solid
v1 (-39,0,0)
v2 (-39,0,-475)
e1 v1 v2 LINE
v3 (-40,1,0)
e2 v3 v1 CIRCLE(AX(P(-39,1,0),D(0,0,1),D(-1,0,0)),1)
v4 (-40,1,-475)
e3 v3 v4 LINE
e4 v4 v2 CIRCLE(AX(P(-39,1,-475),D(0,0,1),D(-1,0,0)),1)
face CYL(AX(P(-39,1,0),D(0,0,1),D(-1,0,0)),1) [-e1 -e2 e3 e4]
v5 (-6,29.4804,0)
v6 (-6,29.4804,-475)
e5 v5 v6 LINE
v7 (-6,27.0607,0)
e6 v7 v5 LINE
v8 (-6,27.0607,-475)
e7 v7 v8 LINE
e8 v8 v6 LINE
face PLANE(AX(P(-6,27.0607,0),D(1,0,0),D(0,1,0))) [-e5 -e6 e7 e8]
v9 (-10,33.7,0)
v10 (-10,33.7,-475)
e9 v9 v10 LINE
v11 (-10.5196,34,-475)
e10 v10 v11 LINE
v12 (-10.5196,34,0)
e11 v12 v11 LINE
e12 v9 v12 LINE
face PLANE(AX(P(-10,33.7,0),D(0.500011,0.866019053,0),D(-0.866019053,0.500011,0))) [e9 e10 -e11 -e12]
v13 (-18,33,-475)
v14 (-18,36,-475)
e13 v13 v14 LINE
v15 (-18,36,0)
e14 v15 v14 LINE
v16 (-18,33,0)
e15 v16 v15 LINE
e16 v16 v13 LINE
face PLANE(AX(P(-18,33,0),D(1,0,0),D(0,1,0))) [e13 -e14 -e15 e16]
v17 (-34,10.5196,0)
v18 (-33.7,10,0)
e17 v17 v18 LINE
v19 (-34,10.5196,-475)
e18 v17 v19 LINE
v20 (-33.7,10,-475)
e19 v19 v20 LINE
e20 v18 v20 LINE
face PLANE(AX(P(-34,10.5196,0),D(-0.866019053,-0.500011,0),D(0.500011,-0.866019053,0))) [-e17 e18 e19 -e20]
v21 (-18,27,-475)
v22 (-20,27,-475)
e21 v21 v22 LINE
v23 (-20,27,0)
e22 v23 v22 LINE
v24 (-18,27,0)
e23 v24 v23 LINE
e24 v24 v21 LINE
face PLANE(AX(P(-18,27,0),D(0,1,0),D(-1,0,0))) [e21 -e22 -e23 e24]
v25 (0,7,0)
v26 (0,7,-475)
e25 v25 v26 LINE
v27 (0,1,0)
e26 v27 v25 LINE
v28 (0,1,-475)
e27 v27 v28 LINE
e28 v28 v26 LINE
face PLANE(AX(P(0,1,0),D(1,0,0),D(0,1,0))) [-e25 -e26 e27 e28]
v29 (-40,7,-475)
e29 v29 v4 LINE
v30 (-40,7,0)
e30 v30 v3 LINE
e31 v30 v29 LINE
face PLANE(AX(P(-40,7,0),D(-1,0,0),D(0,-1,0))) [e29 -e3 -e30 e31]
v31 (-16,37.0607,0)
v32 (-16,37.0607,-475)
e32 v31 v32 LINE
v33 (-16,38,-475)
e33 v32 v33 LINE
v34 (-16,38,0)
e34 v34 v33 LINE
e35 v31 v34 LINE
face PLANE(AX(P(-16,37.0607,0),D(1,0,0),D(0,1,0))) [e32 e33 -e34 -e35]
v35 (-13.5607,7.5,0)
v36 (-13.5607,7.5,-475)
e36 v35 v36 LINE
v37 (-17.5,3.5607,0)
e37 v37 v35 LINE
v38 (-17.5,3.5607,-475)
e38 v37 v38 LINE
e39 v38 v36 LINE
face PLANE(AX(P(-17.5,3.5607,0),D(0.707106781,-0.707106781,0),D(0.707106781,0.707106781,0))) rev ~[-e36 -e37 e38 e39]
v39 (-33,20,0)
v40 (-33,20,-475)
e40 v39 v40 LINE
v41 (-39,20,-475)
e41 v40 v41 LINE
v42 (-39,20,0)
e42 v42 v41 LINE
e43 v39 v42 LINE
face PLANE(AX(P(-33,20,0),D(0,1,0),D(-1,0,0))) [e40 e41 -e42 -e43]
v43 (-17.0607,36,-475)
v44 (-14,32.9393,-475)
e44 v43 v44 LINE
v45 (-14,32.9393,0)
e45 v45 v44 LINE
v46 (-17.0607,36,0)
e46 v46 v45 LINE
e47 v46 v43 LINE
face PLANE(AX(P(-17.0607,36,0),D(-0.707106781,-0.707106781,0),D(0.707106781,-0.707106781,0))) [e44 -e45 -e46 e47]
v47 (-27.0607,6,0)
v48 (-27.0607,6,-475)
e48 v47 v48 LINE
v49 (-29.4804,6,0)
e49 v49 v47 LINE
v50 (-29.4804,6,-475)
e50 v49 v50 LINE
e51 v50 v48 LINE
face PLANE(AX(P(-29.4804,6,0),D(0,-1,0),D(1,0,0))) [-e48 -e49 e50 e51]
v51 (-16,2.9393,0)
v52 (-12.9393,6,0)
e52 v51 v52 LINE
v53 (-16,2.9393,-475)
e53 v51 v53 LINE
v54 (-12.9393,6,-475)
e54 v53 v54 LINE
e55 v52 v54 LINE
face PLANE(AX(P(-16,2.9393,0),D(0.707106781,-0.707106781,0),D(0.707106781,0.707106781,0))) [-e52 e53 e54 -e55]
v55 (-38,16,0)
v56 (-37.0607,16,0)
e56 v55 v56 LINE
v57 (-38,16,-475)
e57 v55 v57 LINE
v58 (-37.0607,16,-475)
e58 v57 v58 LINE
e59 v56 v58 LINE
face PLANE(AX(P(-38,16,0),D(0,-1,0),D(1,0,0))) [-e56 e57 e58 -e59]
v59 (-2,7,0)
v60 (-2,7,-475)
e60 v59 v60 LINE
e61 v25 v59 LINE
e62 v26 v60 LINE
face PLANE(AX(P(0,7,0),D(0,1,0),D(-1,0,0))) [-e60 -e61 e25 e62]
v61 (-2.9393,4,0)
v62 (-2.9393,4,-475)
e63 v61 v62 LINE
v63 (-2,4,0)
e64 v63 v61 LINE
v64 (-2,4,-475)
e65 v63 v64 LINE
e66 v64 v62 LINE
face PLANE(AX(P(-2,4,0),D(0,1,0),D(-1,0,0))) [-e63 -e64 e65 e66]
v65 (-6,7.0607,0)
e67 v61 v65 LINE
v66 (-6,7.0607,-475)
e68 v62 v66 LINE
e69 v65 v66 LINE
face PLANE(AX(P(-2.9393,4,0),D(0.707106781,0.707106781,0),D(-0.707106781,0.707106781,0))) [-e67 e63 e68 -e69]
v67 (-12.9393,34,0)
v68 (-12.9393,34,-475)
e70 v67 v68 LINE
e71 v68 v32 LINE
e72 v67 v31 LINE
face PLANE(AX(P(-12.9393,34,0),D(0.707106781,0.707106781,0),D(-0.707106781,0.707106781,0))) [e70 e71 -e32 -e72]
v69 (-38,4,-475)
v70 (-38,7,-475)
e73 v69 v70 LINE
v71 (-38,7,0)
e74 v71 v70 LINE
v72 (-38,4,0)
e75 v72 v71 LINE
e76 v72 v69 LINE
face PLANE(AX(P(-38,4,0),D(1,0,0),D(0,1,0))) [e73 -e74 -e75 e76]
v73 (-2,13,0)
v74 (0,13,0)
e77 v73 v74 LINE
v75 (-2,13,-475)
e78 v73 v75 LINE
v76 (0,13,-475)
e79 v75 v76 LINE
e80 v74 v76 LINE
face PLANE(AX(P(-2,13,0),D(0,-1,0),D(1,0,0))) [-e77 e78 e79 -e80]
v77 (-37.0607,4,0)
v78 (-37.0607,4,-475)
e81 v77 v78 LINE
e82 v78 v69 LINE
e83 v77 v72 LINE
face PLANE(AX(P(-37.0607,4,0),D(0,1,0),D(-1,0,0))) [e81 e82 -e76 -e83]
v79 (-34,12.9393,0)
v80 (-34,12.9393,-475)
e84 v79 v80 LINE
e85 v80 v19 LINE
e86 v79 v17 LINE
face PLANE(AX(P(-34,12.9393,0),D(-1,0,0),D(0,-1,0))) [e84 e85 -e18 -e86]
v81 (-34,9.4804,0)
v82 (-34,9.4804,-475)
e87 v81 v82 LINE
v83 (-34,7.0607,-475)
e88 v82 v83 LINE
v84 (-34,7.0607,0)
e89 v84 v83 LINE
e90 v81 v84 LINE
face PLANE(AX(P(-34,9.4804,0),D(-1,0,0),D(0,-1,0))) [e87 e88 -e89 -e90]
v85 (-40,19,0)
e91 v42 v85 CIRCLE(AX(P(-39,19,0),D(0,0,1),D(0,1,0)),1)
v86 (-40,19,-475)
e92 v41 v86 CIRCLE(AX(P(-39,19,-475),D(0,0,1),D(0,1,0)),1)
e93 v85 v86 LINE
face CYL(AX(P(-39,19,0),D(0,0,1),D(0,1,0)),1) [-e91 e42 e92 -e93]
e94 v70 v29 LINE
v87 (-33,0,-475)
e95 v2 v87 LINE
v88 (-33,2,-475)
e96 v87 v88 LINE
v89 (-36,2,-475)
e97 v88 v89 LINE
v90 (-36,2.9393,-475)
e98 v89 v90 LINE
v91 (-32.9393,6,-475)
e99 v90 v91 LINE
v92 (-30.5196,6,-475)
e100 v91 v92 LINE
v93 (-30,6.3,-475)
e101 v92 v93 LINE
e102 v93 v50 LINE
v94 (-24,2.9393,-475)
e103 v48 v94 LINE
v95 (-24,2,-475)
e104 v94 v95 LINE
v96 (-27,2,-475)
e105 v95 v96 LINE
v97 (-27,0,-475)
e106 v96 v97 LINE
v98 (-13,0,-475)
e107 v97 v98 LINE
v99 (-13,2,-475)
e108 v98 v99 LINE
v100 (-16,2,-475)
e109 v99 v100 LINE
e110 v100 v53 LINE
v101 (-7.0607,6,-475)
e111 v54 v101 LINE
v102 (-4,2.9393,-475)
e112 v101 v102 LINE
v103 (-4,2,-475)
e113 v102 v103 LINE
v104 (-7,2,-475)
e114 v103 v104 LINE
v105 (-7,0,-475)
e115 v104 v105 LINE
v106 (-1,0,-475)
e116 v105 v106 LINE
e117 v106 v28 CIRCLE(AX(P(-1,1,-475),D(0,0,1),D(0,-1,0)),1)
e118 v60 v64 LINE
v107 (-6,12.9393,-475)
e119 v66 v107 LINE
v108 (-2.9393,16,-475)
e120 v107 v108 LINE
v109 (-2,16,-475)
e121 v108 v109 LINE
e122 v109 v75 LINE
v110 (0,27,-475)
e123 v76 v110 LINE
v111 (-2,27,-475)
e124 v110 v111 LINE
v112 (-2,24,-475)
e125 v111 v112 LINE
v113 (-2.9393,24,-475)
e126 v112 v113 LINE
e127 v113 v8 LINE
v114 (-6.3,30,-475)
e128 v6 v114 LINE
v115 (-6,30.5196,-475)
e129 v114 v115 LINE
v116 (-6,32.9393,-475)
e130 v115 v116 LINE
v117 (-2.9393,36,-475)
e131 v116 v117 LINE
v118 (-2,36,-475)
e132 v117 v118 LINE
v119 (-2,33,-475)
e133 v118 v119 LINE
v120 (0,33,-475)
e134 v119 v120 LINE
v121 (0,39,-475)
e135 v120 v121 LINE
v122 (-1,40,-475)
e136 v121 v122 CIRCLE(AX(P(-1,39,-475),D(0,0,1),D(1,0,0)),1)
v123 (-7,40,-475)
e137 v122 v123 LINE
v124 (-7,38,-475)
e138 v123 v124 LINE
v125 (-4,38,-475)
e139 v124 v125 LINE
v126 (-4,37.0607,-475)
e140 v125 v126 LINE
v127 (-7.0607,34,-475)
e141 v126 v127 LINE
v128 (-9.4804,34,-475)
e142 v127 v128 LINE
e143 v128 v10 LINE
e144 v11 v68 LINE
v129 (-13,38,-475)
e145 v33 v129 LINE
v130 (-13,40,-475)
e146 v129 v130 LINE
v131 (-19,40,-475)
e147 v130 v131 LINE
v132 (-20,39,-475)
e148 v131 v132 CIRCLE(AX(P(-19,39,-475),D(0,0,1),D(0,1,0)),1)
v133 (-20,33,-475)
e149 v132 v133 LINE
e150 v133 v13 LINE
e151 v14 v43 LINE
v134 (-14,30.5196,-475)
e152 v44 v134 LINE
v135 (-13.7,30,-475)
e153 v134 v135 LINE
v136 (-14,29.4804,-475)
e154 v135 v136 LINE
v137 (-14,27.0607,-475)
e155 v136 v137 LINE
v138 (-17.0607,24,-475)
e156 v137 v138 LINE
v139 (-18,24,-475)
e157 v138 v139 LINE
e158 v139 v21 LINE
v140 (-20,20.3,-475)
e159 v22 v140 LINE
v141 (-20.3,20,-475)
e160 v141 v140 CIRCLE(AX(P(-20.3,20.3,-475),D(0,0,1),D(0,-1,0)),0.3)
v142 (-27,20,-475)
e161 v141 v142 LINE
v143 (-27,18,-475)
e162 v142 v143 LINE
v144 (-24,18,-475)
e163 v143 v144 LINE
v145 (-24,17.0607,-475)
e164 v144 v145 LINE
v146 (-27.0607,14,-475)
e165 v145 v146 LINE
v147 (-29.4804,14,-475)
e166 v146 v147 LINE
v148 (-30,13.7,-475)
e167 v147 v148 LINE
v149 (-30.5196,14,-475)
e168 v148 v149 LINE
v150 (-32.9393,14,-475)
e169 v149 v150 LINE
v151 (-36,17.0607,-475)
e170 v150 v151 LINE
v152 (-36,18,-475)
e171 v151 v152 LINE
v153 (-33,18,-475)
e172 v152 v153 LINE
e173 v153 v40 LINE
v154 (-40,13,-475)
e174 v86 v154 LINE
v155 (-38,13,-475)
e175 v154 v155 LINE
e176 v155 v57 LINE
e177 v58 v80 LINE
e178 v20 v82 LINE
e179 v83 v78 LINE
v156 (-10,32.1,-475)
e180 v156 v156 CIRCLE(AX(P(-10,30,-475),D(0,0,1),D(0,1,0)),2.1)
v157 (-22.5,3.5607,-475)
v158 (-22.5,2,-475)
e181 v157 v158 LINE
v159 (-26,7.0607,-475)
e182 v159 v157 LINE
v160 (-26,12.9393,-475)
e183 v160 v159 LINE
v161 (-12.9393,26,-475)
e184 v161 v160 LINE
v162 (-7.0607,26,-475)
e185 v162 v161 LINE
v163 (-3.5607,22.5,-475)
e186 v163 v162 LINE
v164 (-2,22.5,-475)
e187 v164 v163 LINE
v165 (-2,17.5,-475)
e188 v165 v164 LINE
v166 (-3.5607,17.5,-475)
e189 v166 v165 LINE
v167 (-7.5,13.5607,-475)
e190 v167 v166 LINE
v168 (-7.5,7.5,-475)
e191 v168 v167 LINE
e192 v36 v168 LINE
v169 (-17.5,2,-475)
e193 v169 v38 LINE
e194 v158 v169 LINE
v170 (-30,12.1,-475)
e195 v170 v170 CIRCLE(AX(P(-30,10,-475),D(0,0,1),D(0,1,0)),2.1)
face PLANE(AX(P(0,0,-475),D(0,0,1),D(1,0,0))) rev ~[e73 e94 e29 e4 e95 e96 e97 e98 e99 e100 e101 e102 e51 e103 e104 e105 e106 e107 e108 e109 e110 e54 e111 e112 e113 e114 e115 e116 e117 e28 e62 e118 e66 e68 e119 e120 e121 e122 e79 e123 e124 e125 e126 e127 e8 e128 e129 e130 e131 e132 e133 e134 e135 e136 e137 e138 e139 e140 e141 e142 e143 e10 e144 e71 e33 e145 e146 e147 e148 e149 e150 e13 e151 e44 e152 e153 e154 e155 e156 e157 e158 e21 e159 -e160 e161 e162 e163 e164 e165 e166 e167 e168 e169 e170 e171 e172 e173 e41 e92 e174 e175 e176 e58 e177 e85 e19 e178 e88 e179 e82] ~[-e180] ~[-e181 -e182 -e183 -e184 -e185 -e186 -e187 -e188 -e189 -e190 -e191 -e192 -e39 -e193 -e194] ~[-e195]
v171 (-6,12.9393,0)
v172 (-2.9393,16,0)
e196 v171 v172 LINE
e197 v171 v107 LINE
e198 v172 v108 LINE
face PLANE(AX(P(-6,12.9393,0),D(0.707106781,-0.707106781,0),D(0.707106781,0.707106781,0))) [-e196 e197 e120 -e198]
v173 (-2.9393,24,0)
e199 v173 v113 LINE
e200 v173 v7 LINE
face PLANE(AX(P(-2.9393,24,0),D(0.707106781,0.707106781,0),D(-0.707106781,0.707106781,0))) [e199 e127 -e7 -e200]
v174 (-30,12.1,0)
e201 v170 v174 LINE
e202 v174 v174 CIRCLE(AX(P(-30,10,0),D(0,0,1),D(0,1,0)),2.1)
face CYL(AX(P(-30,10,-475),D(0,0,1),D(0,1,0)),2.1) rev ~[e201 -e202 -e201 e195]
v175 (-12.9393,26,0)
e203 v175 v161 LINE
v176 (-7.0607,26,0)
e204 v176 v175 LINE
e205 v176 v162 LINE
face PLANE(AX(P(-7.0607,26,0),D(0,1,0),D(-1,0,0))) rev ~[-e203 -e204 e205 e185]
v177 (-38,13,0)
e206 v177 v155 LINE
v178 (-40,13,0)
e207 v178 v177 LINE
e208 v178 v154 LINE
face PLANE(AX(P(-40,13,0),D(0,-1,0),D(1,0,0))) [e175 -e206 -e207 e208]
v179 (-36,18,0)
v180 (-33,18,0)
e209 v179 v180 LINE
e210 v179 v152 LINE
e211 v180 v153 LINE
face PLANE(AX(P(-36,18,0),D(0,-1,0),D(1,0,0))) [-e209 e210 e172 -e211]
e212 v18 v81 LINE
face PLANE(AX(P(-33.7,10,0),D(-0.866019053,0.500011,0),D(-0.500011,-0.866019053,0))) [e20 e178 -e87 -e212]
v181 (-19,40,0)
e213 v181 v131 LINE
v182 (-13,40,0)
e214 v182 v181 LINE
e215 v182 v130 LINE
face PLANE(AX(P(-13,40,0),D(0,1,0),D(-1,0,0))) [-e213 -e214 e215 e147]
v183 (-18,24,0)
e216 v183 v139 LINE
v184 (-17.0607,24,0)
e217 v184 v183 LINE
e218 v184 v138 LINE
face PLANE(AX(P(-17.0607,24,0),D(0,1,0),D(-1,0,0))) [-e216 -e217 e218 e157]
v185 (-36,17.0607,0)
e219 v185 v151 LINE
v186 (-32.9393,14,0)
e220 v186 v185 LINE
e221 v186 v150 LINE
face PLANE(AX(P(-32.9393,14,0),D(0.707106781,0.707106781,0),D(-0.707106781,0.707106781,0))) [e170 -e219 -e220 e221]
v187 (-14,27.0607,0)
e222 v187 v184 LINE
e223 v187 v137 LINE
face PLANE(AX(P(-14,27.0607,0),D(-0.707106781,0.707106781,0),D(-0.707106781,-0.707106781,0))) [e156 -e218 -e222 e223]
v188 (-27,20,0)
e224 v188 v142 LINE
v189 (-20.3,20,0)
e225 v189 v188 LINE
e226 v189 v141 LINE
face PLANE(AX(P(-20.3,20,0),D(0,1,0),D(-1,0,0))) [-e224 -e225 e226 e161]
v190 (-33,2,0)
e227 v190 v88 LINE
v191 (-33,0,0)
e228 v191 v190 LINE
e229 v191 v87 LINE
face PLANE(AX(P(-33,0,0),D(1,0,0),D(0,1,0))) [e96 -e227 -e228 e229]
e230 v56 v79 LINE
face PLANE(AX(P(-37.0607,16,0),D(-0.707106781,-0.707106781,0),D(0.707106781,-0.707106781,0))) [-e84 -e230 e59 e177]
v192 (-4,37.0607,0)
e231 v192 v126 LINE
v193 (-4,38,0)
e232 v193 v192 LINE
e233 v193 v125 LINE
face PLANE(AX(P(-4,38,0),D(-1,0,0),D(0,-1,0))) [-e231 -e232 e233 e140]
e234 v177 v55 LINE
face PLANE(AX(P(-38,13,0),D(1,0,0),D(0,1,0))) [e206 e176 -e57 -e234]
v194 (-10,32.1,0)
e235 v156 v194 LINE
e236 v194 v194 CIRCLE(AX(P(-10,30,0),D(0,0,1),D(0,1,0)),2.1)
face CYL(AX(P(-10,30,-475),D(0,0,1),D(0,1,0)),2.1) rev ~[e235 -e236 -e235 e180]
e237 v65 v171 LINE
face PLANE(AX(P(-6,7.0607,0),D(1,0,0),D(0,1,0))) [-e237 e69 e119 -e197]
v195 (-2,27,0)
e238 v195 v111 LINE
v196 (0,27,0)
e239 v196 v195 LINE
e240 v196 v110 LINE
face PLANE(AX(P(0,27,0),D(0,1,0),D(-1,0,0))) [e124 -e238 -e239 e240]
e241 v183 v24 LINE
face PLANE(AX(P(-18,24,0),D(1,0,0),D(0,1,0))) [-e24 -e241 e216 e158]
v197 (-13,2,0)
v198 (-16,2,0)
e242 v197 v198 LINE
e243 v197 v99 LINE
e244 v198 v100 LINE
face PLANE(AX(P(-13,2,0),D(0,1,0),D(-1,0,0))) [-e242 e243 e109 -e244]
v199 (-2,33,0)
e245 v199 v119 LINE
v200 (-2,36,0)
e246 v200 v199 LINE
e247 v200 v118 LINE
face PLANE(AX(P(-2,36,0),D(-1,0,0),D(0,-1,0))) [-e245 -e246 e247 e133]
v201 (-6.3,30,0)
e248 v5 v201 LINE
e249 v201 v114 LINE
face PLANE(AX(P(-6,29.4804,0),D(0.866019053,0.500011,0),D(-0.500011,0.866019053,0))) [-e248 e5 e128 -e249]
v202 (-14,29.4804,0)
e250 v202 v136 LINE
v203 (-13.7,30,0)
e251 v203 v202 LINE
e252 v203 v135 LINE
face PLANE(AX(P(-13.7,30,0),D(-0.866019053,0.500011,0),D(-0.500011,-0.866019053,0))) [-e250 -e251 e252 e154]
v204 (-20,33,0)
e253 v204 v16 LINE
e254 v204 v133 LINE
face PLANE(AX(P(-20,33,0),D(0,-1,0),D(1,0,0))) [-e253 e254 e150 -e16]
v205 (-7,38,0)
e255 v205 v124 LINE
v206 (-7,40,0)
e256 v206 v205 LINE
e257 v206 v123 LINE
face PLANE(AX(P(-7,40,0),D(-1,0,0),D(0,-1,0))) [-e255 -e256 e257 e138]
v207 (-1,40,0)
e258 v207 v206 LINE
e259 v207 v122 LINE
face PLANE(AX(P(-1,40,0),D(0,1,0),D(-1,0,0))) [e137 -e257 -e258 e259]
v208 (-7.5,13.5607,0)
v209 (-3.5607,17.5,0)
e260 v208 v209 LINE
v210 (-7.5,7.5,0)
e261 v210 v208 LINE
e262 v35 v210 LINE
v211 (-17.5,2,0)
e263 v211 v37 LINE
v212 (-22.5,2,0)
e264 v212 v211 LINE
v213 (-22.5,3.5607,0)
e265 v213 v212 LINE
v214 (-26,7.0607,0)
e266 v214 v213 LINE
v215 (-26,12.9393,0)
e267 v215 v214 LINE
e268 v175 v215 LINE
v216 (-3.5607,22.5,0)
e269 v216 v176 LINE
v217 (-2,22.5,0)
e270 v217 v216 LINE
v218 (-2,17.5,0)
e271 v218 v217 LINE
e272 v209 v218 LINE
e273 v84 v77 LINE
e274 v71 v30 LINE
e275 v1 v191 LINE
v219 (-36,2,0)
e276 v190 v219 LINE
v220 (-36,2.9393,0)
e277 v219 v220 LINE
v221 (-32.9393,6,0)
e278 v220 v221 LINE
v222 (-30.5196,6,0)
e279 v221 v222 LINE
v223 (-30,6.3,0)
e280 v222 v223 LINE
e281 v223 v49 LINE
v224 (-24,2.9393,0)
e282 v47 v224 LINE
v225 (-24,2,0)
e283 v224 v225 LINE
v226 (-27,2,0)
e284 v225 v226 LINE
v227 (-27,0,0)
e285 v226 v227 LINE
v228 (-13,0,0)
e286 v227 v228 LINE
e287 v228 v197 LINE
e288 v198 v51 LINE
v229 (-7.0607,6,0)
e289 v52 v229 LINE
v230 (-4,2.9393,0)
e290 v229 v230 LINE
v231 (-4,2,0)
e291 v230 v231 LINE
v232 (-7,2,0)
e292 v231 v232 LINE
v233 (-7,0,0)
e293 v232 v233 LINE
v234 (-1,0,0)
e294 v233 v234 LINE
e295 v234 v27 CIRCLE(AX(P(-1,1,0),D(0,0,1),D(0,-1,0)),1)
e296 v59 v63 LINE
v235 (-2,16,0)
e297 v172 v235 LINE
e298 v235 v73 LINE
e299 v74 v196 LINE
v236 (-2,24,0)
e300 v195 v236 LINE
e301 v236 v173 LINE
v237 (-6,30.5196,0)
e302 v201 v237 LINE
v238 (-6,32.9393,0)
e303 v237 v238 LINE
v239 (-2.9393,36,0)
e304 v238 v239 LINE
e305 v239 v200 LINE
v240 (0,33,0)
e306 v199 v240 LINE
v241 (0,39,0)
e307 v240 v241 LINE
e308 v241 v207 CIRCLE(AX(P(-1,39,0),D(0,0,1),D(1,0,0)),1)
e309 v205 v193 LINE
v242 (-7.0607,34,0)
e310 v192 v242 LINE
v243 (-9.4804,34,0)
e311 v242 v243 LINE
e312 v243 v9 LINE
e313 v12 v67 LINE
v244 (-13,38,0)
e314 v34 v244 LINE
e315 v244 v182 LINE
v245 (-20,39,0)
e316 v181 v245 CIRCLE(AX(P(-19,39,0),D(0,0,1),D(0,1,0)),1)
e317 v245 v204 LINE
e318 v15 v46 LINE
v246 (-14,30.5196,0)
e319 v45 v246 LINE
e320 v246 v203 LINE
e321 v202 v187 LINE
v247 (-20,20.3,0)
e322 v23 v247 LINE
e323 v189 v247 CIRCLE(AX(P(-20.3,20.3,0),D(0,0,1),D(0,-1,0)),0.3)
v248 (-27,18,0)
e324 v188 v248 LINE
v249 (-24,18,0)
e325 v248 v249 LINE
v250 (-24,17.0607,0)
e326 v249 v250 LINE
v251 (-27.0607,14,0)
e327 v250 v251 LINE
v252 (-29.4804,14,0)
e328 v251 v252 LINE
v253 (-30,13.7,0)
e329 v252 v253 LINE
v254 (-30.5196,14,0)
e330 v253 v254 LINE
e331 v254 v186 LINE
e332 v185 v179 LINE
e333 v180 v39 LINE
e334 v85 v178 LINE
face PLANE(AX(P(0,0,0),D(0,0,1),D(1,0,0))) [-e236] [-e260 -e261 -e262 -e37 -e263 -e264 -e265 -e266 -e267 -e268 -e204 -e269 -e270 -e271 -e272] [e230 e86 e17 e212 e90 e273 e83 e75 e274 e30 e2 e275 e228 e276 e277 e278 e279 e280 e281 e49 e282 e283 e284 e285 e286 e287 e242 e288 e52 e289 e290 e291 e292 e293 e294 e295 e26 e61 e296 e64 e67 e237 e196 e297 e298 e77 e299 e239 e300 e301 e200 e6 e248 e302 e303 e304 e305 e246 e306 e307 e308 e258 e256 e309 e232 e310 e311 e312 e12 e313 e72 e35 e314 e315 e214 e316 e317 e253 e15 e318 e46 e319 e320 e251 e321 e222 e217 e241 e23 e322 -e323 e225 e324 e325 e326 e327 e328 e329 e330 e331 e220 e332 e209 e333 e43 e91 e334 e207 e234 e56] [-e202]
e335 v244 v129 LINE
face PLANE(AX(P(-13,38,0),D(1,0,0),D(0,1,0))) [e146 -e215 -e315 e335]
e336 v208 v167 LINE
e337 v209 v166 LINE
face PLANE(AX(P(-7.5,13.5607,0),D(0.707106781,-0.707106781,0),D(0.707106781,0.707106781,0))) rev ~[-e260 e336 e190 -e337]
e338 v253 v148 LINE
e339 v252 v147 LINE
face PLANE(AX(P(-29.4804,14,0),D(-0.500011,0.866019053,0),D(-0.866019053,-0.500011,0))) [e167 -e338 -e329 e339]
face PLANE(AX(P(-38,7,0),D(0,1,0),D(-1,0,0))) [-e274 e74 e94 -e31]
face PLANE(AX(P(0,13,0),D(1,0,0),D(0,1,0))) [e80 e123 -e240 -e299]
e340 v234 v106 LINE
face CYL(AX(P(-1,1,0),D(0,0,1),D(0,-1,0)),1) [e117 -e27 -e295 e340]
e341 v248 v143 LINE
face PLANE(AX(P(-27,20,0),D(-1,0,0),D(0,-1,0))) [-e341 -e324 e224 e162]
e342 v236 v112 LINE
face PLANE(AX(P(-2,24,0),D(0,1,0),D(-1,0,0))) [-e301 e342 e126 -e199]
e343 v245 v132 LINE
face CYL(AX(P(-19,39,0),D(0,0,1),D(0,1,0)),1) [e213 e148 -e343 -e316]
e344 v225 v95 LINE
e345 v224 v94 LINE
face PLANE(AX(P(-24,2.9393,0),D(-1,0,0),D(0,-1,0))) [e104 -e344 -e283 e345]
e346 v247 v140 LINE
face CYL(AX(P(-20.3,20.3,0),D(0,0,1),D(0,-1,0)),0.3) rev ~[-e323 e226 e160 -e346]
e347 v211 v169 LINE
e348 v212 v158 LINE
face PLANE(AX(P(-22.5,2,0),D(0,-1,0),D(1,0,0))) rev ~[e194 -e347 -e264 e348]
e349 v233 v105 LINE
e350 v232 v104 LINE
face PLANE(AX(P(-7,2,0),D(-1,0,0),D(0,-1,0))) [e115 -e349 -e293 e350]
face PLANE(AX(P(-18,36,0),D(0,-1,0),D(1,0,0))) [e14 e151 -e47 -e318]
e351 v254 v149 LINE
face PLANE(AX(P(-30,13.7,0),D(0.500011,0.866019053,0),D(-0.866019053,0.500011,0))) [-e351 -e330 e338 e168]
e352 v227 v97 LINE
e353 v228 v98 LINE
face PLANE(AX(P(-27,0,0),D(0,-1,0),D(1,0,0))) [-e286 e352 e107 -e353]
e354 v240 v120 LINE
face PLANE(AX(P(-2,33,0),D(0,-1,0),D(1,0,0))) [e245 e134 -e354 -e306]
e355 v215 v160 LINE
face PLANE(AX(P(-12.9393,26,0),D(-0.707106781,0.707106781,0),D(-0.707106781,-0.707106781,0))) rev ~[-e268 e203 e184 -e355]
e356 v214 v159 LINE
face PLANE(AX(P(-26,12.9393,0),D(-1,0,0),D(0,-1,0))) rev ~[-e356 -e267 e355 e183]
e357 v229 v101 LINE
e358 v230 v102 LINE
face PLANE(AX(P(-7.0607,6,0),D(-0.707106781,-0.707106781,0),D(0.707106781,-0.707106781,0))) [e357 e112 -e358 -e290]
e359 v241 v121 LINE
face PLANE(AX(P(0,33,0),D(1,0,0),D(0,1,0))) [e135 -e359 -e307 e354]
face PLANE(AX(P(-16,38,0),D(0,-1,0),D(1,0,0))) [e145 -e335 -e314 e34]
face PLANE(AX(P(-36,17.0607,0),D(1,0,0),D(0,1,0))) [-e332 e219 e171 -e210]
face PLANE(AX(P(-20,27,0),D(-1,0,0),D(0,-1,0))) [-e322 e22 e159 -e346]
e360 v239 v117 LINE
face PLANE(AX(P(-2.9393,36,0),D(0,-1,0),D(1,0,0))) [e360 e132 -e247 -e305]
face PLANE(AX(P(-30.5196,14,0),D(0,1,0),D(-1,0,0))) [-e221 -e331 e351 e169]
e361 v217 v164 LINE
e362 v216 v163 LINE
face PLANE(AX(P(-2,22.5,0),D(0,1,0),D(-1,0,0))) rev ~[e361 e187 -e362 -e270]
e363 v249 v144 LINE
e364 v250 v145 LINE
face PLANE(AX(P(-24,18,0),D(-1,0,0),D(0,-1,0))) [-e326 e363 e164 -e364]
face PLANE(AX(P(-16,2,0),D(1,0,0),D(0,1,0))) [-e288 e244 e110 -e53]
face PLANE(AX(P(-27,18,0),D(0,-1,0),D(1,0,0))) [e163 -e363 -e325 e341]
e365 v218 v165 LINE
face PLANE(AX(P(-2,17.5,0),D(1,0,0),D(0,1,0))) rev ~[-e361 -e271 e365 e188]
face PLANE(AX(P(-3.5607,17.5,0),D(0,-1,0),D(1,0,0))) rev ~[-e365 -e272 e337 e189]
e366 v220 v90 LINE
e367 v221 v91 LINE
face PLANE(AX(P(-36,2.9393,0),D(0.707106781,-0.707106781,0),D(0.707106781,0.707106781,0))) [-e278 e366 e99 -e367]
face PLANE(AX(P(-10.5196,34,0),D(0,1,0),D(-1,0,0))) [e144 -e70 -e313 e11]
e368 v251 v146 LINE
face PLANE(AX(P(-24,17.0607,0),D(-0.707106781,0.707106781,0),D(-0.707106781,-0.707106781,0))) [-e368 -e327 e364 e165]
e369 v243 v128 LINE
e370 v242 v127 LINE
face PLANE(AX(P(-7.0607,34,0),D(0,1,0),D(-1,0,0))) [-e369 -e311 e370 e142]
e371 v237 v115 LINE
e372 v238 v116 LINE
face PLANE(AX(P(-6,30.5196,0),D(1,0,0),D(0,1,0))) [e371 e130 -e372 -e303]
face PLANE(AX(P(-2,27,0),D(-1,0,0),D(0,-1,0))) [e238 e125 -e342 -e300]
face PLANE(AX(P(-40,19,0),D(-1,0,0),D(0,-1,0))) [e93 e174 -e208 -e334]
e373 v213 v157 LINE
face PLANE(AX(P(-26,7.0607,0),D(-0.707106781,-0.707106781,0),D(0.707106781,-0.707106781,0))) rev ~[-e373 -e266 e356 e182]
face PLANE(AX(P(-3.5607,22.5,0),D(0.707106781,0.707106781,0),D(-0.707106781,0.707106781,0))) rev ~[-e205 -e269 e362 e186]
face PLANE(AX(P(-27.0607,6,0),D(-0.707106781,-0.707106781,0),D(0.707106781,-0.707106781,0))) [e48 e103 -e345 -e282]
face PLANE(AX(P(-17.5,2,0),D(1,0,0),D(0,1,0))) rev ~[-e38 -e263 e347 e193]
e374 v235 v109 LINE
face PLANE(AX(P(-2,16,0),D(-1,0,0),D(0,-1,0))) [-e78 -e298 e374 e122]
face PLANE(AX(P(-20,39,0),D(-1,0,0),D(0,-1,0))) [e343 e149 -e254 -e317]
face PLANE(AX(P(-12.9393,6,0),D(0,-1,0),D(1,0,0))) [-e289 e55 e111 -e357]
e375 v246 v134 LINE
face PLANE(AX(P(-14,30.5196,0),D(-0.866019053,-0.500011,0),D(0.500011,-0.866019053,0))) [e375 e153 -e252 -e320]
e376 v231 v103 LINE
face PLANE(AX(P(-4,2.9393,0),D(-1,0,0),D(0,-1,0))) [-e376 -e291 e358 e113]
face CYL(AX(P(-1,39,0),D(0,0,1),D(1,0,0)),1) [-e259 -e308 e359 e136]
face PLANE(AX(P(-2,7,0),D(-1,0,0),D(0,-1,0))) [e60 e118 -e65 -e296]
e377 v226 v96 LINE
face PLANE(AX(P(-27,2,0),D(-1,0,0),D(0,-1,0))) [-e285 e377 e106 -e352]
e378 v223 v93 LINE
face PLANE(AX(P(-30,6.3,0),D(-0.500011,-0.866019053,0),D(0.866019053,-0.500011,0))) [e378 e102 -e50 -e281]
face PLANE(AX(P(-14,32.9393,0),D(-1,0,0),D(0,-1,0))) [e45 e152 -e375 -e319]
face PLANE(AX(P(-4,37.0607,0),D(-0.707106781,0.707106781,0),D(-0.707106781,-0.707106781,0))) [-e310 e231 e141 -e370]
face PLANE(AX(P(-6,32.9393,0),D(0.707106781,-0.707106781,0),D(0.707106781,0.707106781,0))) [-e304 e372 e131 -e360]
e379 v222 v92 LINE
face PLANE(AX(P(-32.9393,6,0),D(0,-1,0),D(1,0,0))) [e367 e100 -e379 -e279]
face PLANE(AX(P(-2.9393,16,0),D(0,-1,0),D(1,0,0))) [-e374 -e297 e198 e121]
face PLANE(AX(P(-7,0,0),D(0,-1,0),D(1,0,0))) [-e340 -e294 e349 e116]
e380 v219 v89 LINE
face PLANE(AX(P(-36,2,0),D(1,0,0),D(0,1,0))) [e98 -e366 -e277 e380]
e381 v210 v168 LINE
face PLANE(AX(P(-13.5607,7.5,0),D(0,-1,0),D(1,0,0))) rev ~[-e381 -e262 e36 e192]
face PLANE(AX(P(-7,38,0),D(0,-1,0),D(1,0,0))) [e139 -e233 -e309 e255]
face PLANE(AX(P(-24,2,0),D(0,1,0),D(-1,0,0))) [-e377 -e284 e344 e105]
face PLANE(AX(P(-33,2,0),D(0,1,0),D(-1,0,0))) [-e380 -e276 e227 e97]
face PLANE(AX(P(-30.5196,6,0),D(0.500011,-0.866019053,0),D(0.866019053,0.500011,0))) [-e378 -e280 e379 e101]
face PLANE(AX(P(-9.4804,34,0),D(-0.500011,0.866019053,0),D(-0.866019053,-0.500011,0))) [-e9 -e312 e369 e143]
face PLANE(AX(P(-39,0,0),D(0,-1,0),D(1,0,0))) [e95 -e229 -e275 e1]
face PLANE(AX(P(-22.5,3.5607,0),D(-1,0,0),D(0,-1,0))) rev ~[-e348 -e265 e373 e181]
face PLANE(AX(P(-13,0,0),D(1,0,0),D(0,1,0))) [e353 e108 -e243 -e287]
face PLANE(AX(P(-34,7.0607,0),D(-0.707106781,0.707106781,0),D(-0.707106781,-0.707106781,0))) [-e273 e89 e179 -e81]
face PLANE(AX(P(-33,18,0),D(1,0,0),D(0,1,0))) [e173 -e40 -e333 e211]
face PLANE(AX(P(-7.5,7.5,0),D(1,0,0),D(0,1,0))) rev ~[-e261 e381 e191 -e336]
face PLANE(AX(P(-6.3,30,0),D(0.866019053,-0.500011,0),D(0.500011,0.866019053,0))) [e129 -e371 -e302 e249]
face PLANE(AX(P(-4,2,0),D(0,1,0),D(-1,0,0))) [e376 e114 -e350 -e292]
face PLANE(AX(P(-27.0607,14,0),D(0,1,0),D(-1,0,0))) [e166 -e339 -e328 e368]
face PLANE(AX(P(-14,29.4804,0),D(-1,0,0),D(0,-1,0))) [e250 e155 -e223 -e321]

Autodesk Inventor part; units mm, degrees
ref_plane "YZ Plane" through (0, 0, 0) normal (1, 0, 0) x (0, 1, 0)
ref_plane "XZ Plane" through (0, 0, 0) normal (0, 1, 0) x (-1, 0, 0)
ref_plane "XY Plane" through (0, 0, 0) normal (0, 0, 1) x (1, 0, 0)
sketch "Sketch_1" plane through (0, 0, 0) normal (0, 0, 1) x (1, 0, 0)
  line L0 (-40, 19) -> (-40, 13)
  line L1 (-40, 13) -> (-38, 13)
  line L2 (-38, 13) -> (-38, 16)
  line L3 (-38, 16) -> (-37.0607, 16)
  line L4 (-37.0607, 16) -> (-34, 12.9393)
  line L5 (-34, 12.9393) -> (-34, 10.5196)
  line L6 (-34, 10.5196) -> (-33.7, 10)
  line L7 (-33.7, 10) -> (-34, 9.4804)
  line L8 (-34, 9.4804) -> (-34, 7.0607)
  line L9 (-34, 7.0607) -> (-37.0607, 4)
  line L10 (-37.0607, 4) -> (-38, 4)
  line L11 (-38, 4) -> (-38, 7)
  line L12 (-38, 7) -> (-40, 7)
  line L13 (-40, 7) -> (-40, 1)
  arc A0 (-40, 1) -> (-39, 0) centre (-39, 1) ccw
  line L14 (-39, 0) -> (-33, 0)
  line L15 (-33, 0) -> (-33, 2)
  line L16 (-33, 2) -> (-36, 2)
  line L17 (-36, 2) -> (-36, 2.9393)
  line L18 (-36, 2.9393) -> (-32.9393, 6)
  line L19 (-32.9393, 6) -> (-30.5196, 6)
  line L20 (-30.5196, 6) -> (-30, 6.3)
  line L21 (-30, 6.3) -> (-29.4804, 6)
  line L22 (-29.4804, 6) -> (-27.0607, 6)
  line L23 (-27.0607, 6) -> (-24, 2.9393)
  line L24 (-24, 2.9393) -> (-24, 2)
  line L25 (-24, 2) -> (-27, 2)
  line L26 (-27, 2) -> (-27, 0)
  line L27 (-27, 0) -> (-13, 0)
  line L28 (-13, 0) -> (-13, 2)
  line L29 (-13, 2) -> (-16, 2)
  line L30 (-16, 2) -> (-16, 2.9393)
  line L31 (-16, 2.9393) -> (-12.9393, 6)
  line L32 (-12.9393, 6) -> (-7.0607, 6)
  line L33 (-7.0607, 6) -> (-4, 2.9393)
  line L34 (-4, 2.9393) -> (-4, 2)
  line L35 (-4, 2) -> (-7, 2)
  line L36 (-7, 2) -> (-7, 0)
  line L37 (-7, 0) -> (-1, 0)
  arc A1 (-1, 0) -> (0, 1) centre (-1, 1) ccw
  line L38 (0, 1) -> (0, 7)
  line L39 (0, 7) -> (-2, 7)
  line L40 (-2, 7) -> (-2, 4)
  line L41 (-2, 4) -> (-2.9393, 4)
  line L42 (-2.9393, 4) -> (-6, 7.0607)
  line L43 (-6, 7.0607) -> (-6, 12.9393)
  line L44 (-6, 12.9393) -> (-2.9393, 16)
  line L45 (-2.9393, 16) -> (-2, 16)
  line L46 (-2, 16) -> (-2, 13)
  line L47 (-2, 13) -> (0, 13)
  line L48 (0, 13) -> (0, 27)
  line L49 (0, 27) -> (-2, 27)
  line L50 (-2, 27) -> (-2, 24)
  line L51 (-2, 24) -> (-2.9393, 24)
  line L52 (-2.9393, 24) -> (-6, 27.0607)
  line L53 (-6, 27.0607) -> (-6, 29.4804)
  line L54 (-6, 29.4804) -> (-6.3, 30)
  line L55 (-6.3, 30) -> (-6, 30.5196)
  line L56 (-6, 30.5196) -> (-6, 32.9393)
  line L57 (-6, 32.9393) -> (-2.9393, 36)
  line L58 (-2.9393, 36) -> (-2, 36)
  line L59 (-2, 36) -> (-2, 33)
  line L60 (-2, 33) -> (0, 33)
  line L61 (0, 33) -> (0, 39)
  arc A2 (0, 39) -> (-1, 40) centre (-1, 39) ccw
  line L62 (-1, 40) -> (-7, 40)
  line L63 (-7, 40) -> (-7, 38)
  line L64 (-7, 38) -> (-4, 38)
  line L65 (-4, 38) -> (-4, 37.0607)
  line L66 (-4, 37.0607) -> (-7.0607, 34)
  line L67 (-7.0607, 34) -> (-9.4804, 34)
  line L68 (-9.4804, 34) -> (-10, 33.7)
  line L69 (-10, 33.7) -> (-10.5196, 34)
  line L70 (-10.5196, 34) -> (-12.9393, 34)
  line L71 (-12.9393, 34) -> (-16, 37.0607)
  line L72 (-16, 37.0607) -> (-16, 38)
  line L73 (-16, 38) -> (-13, 38)
  line L74 (-13, 38) -> (-13, 40)
  line L75 (-13, 40) -> (-19, 40)
  arc A3 (-19, 40) -> (-20, 39) centre (-19, 39) ccw
  line L76 (-20, 39) -> (-20, 33)
  line L77 (-20, 33) -> (-18, 33)
  line L78 (-18, 33) -> (-18, 36)
  line L79 (-18, 36) -> (-17.0607, 36)
  line L80 (-17.0607, 36) -> (-14, 32.9393)
  line L81 (-14, 32.9393) -> (-14, 30.5196)
  line L82 (-14, 30.5196) -> (-13.7, 30)
  line L83 (-13.7, 30) -> (-14, 29.4804)
  line L84 (-14, 29.4804) -> (-14, 27.0607)
  line L85 (-14, 27.0607) -> (-17.0607, 24)
  line L86 (-17.0607, 24) -> (-18, 24)
  line L87 (-18, 24) -> (-18, 27)
  line L88 (-18, 27) -> (-20, 27)
  line L89 (-20, 27) -> (-20, 20.3)
  arc A4 (-20.3, 20) -> (-20, 20.3) centre (-20.3, 20.3) ccw
  line L90 (-20.3, 20) -> (-27, 20)
  line L91 (-27, 20) -> (-27, 18)
  line L92 (-27, 18) -> (-24, 18)
  line L93 (-24, 18) -> (-24, 17.0607)
  line L94 (-24, 17.0607) -> (-27.0607, 14)
  line L95 (-27.0607, 14) -> (-29.4804, 14)
  line L96 (-29.4804, 14) -> (-30, 13.7)
  line L97 (-30, 13.7) -> (-30.5196, 14)
  line L98 (-30.5196, 14) -> (-32.9393, 14)
  line L99 (-32.9393, 14) -> (-36, 17.0607)
  line L100 (-36, 17.0607) -> (-36, 18)
  line L101 (-36, 18) -> (-33, 18)
  line L102 (-33, 18) -> (-33, 20)
  line L103 (-33, 20) -> (-39, 20)
  arc A5 (-39, 20) -> (-40, 19) centre (-39, 19) ccw
  line L104 (-26, 7.0607) -> (-22.5, 3.5607)
  line L105 (-22.5, 3.5607) -> (-22.5, 2)
  line L106 (-22.5, 2) -> (-17.5, 2)
  line L107 (-17.5, 2) -> (-17.5, 3.5607)
  line L108 (-17.5, 3.5607) -> (-13.5607, 7.5)
  line L109 (-13.5607, 7.5) -> (-7.5, 7.5)
  line L110 (-7.5, 7.5) -> (-7.5, 13.5607)
  line L111 (-7.5, 13.5607) -> (-3.5607, 17.5)
  line L112 (-3.5607, 17.5) -> (-2, 17.5)
  line L113 (-2, 17.5) -> (-2, 22.5)
  line L114 (-2, 22.5) -> (-3.5607, 22.5)
  line L115 (-3.5607, 22.5) -> (-7.0607, 26)
  line L116 (-7.0607, 26) -> (-12.9393, 26)
  line L117 (-12.9393, 26) -> (-26, 12.9393)
  line L118 (-26, 12.9393) -> (-26, 7.0607)
extrude "Extrusion1" add sketch "Sketch_1" against normal blind 475
sketch "Sketch2" plane through (0, 0, -475) normal (0, 0, -1) x (-1, 0, 0)
  point P0 (10, 30)
hole "Hole1" at (-10, 30, -475) direction (0, 0, 1) diameter 4.2 end through all
sketch "Sketch3" plane through (0, 0, -475) normal (0, 0, -1) x (-1, 0, 0)
  point P0 (30, 10)
hole "Hole2" at (-30, 10, -475) direction (0, 0, 1) diameter 4.2 end through all
thread "Thread1" size "M5x0.8" class "6H" standard "ANSI Metric M Profile" length 10
thread "Thread2" size "M5x0.8" class "6H" standard "ANSI Metric M Profile" length 10
thread "Thread3" size "M5x0.8" class "6H" standard "ANSI Metric M Profile" length 10
thread "Thread4" size "M5x0.8" class "6H" standard "ANSI Metric M Profile" length 10
properties part number "HFS5-404020-475-SC" material "Aluminum 6061"
